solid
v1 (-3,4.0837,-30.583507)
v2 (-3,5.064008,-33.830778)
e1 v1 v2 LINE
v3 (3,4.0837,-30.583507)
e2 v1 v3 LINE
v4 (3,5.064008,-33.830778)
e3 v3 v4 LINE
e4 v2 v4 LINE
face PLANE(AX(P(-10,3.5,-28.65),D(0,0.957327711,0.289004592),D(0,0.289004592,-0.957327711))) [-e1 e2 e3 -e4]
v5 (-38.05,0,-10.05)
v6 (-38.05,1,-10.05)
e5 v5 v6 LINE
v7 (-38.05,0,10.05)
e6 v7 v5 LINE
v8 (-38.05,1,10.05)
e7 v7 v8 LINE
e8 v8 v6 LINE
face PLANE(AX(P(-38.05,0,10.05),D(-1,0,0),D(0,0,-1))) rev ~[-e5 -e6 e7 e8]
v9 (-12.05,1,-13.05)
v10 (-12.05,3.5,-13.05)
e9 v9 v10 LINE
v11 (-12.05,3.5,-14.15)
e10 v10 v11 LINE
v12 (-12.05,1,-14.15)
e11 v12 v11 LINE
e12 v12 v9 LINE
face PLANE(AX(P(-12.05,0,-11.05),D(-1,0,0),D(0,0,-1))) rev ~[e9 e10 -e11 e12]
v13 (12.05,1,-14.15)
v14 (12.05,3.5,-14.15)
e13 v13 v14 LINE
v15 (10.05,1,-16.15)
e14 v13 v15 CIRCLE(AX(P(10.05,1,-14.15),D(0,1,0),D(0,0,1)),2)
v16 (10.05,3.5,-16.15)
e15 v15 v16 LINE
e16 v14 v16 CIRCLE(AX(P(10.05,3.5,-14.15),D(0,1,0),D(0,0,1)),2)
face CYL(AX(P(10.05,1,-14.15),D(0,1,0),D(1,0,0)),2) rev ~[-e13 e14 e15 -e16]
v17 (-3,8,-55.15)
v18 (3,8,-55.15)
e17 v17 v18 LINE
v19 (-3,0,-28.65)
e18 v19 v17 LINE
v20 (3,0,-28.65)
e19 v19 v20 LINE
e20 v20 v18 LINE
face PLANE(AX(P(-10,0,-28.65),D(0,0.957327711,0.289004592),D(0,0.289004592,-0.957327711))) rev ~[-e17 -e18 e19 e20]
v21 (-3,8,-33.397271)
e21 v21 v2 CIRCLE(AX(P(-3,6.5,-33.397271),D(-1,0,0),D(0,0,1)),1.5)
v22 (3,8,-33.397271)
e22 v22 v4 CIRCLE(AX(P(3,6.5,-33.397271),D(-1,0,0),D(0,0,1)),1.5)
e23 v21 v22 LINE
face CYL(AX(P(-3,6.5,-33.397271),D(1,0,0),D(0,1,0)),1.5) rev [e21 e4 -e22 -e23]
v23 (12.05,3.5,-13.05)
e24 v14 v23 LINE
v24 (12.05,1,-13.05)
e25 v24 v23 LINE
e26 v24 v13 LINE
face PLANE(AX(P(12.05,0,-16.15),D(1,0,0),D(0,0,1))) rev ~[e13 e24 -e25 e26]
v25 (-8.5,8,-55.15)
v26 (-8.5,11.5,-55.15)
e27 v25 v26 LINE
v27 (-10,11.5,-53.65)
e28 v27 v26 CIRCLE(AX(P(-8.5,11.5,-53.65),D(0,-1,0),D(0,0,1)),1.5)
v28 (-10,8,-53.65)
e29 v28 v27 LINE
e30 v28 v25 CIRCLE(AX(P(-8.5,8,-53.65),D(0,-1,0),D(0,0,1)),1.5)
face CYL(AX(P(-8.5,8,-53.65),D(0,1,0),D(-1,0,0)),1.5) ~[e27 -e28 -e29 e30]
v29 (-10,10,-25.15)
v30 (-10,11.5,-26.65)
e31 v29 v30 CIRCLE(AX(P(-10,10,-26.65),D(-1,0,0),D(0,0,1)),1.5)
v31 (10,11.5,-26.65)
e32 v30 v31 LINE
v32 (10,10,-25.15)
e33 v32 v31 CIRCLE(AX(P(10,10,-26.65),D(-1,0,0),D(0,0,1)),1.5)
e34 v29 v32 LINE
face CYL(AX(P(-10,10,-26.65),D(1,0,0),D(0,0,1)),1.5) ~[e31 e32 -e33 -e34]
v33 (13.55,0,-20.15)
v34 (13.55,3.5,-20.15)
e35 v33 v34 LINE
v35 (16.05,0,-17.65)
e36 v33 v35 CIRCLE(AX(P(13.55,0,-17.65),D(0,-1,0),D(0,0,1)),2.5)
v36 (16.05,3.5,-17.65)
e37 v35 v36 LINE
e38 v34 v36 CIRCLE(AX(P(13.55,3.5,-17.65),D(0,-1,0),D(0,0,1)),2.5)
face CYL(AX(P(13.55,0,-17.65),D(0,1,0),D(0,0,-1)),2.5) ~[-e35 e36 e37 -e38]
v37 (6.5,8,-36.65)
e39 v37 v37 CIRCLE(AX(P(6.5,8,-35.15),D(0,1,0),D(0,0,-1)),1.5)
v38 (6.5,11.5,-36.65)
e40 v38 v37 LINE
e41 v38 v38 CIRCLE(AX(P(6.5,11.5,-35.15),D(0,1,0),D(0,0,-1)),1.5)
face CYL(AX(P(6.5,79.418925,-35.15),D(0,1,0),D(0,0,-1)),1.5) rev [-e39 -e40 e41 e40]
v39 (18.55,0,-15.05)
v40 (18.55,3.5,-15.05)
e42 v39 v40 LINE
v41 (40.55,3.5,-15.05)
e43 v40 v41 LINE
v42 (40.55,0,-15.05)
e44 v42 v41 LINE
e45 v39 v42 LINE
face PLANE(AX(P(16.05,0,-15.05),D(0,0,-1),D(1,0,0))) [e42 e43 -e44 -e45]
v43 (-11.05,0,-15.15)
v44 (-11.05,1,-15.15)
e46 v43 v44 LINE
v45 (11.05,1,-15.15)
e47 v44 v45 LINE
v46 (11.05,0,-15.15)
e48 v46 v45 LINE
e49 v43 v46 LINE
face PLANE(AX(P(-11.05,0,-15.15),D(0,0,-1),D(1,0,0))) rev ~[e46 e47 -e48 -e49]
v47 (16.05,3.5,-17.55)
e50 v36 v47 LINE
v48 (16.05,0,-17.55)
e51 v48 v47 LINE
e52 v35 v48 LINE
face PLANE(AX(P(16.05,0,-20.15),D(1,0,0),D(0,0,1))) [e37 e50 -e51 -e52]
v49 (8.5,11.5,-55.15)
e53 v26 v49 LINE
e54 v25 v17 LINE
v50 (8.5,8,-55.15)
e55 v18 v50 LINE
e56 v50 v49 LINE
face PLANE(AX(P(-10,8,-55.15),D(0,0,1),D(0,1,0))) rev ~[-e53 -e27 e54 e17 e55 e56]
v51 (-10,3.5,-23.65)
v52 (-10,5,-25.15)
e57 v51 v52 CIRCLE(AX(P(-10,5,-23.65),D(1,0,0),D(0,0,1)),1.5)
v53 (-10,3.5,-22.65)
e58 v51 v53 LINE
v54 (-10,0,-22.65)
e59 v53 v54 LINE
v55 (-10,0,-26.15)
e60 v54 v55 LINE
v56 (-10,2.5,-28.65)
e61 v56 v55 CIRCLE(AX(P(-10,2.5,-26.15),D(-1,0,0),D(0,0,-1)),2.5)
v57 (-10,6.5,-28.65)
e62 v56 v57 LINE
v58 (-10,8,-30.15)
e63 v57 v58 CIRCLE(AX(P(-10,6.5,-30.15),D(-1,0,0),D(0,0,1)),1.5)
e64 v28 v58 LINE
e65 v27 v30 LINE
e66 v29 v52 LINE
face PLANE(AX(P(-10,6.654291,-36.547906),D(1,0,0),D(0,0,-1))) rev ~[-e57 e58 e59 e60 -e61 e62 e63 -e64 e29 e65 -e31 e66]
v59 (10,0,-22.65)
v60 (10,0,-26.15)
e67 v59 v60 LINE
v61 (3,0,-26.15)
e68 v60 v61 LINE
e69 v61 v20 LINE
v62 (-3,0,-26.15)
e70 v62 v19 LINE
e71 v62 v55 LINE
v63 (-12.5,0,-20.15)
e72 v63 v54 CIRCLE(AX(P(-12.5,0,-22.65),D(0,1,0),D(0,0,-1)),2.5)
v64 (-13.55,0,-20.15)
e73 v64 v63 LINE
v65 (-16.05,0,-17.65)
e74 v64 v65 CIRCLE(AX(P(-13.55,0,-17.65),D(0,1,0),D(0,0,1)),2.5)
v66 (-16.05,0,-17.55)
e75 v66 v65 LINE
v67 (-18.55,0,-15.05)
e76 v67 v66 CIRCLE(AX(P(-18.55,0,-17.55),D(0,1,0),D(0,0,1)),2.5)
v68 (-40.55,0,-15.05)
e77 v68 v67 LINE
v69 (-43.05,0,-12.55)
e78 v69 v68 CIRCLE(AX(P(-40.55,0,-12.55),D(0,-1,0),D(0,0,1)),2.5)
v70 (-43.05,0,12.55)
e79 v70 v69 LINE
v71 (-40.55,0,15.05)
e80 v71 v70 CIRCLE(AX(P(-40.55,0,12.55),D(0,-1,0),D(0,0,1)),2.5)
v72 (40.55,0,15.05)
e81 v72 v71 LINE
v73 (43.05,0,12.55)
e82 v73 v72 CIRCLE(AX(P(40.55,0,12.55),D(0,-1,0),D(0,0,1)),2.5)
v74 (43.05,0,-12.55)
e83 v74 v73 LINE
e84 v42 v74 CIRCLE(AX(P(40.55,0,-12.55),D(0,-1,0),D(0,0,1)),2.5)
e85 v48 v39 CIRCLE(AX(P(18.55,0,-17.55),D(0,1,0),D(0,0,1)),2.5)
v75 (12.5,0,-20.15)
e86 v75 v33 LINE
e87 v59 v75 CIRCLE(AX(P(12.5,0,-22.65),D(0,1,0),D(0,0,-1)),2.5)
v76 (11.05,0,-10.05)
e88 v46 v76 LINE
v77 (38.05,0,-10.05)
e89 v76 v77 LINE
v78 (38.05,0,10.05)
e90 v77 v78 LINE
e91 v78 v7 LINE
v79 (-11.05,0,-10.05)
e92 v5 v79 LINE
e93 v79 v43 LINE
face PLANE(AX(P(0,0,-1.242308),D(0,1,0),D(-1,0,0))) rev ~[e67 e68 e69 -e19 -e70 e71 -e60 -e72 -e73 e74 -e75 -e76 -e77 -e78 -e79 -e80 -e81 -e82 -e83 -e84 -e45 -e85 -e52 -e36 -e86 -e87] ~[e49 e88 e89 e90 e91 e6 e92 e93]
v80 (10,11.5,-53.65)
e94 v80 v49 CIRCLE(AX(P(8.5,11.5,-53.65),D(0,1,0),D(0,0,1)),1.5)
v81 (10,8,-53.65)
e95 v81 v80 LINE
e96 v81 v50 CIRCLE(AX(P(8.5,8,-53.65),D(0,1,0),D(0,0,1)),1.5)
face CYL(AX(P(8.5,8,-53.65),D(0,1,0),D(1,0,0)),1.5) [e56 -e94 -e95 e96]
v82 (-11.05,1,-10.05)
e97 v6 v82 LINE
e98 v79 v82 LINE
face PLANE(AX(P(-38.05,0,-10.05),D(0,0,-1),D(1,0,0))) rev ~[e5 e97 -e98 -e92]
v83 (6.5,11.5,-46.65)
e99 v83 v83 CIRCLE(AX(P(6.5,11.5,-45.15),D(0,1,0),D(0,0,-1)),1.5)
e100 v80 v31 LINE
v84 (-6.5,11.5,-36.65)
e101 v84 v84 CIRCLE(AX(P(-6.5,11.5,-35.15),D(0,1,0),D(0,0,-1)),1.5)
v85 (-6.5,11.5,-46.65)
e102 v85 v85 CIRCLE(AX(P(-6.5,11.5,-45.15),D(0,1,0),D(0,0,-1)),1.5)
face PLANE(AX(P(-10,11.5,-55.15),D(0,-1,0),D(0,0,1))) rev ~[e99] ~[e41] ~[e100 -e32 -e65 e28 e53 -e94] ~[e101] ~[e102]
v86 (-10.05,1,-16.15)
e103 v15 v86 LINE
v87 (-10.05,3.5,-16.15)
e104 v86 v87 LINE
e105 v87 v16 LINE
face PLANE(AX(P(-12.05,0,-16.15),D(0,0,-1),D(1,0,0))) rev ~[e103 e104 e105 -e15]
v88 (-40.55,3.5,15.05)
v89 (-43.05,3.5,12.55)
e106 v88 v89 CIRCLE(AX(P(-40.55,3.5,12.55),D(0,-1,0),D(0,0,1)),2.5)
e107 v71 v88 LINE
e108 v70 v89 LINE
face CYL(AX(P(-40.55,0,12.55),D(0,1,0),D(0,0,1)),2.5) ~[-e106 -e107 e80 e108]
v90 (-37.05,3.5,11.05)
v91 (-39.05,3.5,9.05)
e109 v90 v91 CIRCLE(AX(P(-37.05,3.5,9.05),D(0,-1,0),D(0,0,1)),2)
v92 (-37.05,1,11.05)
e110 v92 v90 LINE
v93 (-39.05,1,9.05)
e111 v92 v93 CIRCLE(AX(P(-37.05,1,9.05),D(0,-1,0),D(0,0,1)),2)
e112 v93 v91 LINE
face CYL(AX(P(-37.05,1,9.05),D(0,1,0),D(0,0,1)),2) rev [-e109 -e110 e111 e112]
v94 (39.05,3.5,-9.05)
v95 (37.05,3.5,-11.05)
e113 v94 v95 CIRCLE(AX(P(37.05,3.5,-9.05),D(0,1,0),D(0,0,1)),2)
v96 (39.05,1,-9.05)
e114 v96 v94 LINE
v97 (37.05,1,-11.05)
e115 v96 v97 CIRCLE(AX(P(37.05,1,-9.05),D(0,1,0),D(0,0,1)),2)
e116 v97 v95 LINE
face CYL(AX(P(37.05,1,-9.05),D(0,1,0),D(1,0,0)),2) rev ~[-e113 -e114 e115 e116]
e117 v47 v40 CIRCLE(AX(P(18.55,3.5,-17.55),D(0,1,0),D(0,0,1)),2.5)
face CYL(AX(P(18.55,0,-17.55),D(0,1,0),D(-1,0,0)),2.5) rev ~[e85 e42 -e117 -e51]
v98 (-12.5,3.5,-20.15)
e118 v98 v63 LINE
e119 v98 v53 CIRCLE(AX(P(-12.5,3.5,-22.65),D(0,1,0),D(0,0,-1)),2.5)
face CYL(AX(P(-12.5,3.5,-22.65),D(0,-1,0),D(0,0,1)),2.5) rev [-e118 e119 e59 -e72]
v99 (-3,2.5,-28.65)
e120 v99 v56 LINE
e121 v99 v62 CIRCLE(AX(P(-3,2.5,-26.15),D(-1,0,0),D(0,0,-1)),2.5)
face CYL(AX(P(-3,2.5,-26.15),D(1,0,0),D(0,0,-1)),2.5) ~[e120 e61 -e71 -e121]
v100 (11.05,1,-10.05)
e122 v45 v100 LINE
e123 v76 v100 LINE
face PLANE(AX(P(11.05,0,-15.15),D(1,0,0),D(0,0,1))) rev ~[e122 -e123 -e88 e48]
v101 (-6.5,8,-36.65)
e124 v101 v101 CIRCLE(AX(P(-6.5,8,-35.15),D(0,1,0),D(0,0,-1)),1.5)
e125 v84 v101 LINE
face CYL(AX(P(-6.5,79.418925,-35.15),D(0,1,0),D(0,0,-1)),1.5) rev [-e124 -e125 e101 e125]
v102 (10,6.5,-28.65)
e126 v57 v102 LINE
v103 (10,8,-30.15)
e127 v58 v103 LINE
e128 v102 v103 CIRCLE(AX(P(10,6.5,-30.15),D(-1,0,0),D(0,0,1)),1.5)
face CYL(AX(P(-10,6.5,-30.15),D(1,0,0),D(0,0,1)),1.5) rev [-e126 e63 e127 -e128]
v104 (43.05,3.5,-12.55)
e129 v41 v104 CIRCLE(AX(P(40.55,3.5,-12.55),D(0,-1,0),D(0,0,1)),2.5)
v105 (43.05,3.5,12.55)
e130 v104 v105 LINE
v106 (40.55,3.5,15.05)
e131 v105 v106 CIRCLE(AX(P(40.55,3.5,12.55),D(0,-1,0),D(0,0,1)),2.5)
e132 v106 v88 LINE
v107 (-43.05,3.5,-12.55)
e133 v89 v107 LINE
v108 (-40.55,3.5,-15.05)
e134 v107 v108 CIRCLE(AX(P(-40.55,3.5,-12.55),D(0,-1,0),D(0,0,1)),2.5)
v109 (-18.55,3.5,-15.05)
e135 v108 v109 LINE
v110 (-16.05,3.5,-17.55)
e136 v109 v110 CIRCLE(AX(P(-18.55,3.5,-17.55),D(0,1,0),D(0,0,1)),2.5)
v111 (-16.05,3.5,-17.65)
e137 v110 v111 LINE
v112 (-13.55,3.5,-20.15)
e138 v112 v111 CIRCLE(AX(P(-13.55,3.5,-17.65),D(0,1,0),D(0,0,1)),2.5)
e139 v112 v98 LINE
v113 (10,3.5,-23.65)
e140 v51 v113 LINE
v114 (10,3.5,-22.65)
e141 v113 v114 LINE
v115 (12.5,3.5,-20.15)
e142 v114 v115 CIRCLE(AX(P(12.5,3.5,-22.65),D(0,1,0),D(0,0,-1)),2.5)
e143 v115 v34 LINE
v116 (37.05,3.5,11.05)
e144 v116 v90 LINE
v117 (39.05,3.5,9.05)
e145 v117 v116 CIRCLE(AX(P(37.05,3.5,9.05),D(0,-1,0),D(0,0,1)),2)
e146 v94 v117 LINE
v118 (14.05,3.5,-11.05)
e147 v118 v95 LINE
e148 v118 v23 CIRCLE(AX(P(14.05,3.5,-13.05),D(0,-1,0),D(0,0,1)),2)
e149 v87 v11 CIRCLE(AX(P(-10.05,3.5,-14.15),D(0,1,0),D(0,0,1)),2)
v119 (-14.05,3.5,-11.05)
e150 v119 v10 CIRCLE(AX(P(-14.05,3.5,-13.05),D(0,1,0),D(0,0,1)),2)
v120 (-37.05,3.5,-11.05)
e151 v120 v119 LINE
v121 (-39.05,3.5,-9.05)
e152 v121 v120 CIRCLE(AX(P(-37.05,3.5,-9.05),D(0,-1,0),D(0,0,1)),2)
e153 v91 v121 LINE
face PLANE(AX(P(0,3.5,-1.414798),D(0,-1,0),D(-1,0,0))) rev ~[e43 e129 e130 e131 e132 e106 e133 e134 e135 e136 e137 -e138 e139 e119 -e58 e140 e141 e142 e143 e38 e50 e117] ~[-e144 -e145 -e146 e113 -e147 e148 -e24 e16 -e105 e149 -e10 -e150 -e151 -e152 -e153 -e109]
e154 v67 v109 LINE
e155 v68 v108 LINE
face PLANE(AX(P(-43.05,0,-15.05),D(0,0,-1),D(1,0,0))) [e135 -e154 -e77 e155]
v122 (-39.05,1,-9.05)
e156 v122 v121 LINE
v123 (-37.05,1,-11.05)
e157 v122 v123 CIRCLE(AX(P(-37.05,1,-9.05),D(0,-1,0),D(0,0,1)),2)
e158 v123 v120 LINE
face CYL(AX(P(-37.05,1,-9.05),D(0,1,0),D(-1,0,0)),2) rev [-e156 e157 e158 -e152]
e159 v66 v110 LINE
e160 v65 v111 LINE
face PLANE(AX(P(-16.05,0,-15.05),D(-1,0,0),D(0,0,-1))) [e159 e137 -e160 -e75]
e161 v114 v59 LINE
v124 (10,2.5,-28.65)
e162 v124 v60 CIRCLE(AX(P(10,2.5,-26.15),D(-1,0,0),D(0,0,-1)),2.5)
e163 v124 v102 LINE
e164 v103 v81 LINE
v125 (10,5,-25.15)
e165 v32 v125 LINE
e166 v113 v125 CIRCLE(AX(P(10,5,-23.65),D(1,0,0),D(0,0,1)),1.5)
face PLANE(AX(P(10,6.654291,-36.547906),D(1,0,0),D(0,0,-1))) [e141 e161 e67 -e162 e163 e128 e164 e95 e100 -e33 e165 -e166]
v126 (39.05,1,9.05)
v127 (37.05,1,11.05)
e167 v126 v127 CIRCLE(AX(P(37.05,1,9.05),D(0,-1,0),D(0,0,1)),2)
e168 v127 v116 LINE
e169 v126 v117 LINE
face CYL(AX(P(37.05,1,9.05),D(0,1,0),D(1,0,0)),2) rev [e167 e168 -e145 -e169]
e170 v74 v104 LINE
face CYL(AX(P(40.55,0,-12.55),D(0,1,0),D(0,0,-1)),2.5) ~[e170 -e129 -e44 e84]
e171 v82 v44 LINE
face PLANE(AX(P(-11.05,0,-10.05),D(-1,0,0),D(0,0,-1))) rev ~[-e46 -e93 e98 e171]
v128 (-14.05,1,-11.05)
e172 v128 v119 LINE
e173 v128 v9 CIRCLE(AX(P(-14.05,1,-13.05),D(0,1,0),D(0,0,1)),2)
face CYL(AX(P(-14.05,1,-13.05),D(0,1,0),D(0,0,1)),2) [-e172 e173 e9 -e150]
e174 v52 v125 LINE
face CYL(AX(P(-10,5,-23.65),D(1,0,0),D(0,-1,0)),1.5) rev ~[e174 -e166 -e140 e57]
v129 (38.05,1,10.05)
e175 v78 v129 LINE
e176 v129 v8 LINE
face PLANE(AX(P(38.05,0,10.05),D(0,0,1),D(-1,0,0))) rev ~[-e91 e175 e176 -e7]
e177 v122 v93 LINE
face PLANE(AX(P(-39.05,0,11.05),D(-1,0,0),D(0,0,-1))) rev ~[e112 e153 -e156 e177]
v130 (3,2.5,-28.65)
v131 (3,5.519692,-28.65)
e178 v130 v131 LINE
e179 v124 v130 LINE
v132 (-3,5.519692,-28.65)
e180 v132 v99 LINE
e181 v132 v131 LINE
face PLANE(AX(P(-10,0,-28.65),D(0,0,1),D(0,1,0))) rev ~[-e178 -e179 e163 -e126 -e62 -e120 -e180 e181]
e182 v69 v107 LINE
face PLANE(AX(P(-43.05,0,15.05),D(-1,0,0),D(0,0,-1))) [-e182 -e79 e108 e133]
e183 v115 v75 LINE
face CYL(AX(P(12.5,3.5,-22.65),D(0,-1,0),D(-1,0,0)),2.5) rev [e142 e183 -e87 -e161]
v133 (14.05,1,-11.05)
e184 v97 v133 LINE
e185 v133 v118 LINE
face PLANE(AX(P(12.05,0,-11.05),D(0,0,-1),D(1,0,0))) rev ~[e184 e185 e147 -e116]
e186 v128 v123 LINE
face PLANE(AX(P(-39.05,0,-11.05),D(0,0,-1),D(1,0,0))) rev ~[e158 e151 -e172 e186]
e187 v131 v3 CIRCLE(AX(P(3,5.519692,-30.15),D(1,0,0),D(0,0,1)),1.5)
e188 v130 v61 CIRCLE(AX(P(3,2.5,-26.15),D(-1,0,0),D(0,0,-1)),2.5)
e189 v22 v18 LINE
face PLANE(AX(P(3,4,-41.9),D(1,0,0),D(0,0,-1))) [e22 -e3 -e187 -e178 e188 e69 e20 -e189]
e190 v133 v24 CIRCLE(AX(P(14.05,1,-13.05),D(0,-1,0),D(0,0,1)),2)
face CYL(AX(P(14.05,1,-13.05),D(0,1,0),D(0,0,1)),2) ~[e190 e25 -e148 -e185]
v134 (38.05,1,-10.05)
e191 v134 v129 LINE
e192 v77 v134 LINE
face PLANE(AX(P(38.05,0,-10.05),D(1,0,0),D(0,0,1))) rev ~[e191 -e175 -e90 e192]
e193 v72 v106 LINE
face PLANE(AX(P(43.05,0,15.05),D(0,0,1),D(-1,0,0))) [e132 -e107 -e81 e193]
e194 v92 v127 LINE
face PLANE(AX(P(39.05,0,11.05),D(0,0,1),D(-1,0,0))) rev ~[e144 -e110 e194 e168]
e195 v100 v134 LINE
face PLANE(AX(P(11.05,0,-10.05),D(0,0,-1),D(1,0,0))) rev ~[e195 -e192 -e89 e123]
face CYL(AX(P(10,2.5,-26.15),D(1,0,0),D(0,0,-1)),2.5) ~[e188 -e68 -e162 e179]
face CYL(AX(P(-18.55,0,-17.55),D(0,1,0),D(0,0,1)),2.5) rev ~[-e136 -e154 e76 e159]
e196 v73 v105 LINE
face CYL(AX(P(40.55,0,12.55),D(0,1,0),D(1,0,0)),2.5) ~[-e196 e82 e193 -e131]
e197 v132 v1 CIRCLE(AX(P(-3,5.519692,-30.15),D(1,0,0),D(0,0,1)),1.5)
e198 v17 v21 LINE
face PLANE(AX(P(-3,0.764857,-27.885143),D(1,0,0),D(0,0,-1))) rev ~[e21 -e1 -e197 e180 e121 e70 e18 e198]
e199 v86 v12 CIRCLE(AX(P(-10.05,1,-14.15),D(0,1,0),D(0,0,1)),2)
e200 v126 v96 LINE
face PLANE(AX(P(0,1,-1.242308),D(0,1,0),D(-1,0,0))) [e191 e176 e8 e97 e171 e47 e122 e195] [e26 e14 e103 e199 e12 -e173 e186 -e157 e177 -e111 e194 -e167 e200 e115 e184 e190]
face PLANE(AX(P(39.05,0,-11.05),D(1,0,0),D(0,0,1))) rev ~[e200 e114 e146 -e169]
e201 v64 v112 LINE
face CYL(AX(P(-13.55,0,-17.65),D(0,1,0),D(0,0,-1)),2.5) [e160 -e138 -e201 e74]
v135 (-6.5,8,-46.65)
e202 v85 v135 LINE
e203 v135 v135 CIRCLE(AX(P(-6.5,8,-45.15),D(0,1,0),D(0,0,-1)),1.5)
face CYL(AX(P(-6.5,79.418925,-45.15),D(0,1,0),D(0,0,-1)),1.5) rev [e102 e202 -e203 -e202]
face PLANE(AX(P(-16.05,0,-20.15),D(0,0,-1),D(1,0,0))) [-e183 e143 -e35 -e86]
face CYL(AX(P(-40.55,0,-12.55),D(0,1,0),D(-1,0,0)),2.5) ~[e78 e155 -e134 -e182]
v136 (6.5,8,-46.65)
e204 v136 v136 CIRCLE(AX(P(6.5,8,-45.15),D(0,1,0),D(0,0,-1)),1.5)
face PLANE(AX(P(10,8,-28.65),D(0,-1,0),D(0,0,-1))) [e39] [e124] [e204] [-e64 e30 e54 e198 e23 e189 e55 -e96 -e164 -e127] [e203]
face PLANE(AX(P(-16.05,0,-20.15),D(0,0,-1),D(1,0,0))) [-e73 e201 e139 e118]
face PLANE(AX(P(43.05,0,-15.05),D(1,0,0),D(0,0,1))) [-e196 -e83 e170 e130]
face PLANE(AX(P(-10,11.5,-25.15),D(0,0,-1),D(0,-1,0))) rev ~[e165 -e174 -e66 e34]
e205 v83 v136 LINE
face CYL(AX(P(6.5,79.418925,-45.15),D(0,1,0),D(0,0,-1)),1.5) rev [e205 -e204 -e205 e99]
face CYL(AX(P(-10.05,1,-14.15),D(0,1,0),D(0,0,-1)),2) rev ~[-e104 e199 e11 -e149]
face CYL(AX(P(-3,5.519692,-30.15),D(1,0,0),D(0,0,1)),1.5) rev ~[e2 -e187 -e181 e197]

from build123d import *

# Parameters (mm, degrees)
RESSALTO_EXTRUS_O1_DEPTH      = 3.5
RESSALTO_EXTRUS_O2_DEPTH      = 1
RESSALTO_EXTRUS_O3_DEPTH      = 10
RESSALTO_EXTRUS_O3_DEPTH_BACK = 10
ESBO_O4_W                     = 26.5
ESBO_O4_H                     = 8
CORTE_EXTRUS_O1_DEPTH         = 7
CORTE_EXTRUS_O2_START         = -20
ESBO_O4_2_W                   = 26.5
ESBO_O4_2_H                   = 8
CORTE_EXTRUS_O2_DEPTH         = 7
CORTE_EXTRUS_O3_DEPTH         = 71.418925013
CORTE_EXTRUS_O3_DEPTH_BACK    = 71.418925013
ESBO_O5_R                     = 1.5
FILETE1_R                     = 2
FILETE2_R                     = 2.5
FILETE3_R                     = 1.5
CORTE_EXTRUS_O4_DEPTH         = 7
CORTE_EXTRUS_O5_START         = -13
CORTE_EXTRUS_O5_DEPTH         = 7


with BuildPart() as part:
    # Esboço1 → Ressalto-extrusão1 (new body)
    with BuildSketch(Plane(origin=(0, 0, 0), x_dir=(1, 0, 0), z_dir=(0, 1, 0))):
        Polygon((-16.05, 20.15), (16.05, 20.15), (16.05, 15.05), (43.05, 15.05), (43.05, -15.05), (-43.05, -15.05), (-43.05, 15.05), (-16.05, 15.05), align=None)
        Polygon((12.05, 11.05), (39.05, 11.05), (39.05, -11.05), (-39.05, -11.05), (-39.05, 11.05), (-12.05, 11.05), (-12.05, 16.15), (12.05, 16.15), align=None, mode=Mode.SUBTRACT)
    extrude(amount=RESSALTO_EXTRUS_O1_DEPTH)

    # Esboço2 → Ressalto-extrusão2 (add)
    with BuildSketch(Plane.XZ):
        Polygon((39.05, 11.05), (39.05, -11.05), (12.05, -11.05), (12.05, -16.15), (-12.05, -16.15), (-12.05, -11.05), (-39.05, -11.05), (-39.05, 11.05), align=None)
        Polygon((38.05, -10.05), (38.05, 10.05), (-38.05, 10.05), (-38.05, -10.05), (-11.05, -10.05), (-11.05, -15.15), (11.05, -15.15), (11.05, -10.05), align=None, mode=Mode.SUBTRACT)
    extrude(amount=-RESSALTO_EXTRUS_O2_DEPTH)

    # Esboço3 → Ressalto-extrusão3 (add, two sides: drawn at the far end of the back side and taken through both)
    with BuildSketch(Plane(origin=(0, 0, 0), x_dir=(0, 0, -1), z_dir=(1, 0, 0)).offset(-RESSALTO_EXTRUS_O3_DEPTH_BACK)):
        Polygon((20.15, 0), (28.65, 0), (55.15, 8), (55.15, 11.5), (25.15, 11.5), (25.15, 3.5), (20.15, 3.5), align=None)
        Polygon((28.65, 3.5), (43.55625, 8), (28.65, 8), align=None, mode=Mode.SUBTRACT)
    extrude(amount=RESSALTO_EXTRUS_O3_DEPTH + RESSALTO_EXTRUS_O3_DEPTH_BACK)

    # Esboço4 → Corte-extrusão1 (cut)
    with BuildSketch(Plane(origin=(10, 0, 0), x_dir=(0, 0, -1), z_dir=(1, 0, 0))):
        with Locations((41.9, 4)):
            Rectangle(ESBO_O4_W, ESBO_O4_H)
    extrude(amount=-CORTE_EXTRUS_O1_DEPTH, mode=Mode.SUBTRACT)

    # Esboço4<2> → Corte-extrusão2 (cut)
    with BuildSketch(Plane(origin=(10, 0, 0), x_dir=(0, 0, -1), z_dir=(1, 0, 0)).offset(CORTE_EXTRUS_O2_START)):
        with Locations((41.9, 4)):
            Rectangle(ESBO_O4_2_W, ESBO_O4_2_H)
    extrude(amount=CORTE_EXTRUS_O2_DEPTH, mode=Mode.SUBTRACT)

    # Esboço5 → Corte-extrusão3 (cut, two sides: drawn at the far end of the back side and taken through both)
    with BuildSketch(Plane.XZ.offset(-8).offset(-CORTE_EXTRUS_O3_DEPTH_BACK)):
        with Locations(Location((-6.5, -45.15, 0), (0, 0, 270))):
            Circle(ESBO_O5_R)
        with Locations(Location((6.5, -45.15, 0), (0, 0, 270))):
            Circle(ESBO_O5_R)
        with Locations(Location((-6.5, -35.15, 0), (0, 0, 270))):
            Circle(ESBO_O5_R)
        with Locations(Location((6.5, -35.15, 0), (0, 0, 270))):
            Circle(ESBO_O5_R)
    extrude(amount=CORTE_EXTRUS_O3_DEPTH + CORTE_EXTRUS_O3_DEPTH_BACK, mode=Mode.SUBTRACT)

    # Filete1
    filete1_edges = [part.edges().sort_by_distance(p)[0] for p in [
        (39.05, 2.25, 11.05),
        (39.05, 2.25, -11.05),
        (12.05, 2.25, -11.05),
        (12.05, 2.25, -16.15),
        (-12.05, 2.25, -16.15),
        (-12.05, 2.25, -11.05),
        (-39.05, 2.25, -11.05),
        (-39.05, 2.25, 11.05),
    ]]
    fillet(filete1_edges, radius=FILETE1_R)

    # Filete2
    filete2_edges = [part.edges().sort_by_distance(p)[0] for p in [
        (10, 1.75, -20.15),
        (-10, 1.75, -20.15),
        (-16.05, 1.75, -20.15),
        (16.05, 1.75, -20.15),
        (16.05, 1.75, -15.05),
        (43.05, 1.75, -15.05),
        (43.05, 1.75, 15.05),
        (-43.05, 1.75, 15.05),
        (-43.05, 1.75, -15.05),
        (-16.05, 1.75, -15.05),
    ]]
    fillet(filete2_edges, radius=FILETE2_R)

    # Filete3
    filete3_edges = [part.edges().sort_by_distance(p)[0] for p in [
        (10, 9.75, -55.15),
        (-10, 9.75, -55.15),
        (0, 11.5, -25.15),
        (0, 3.5, -25.15),
        (0, 8, -28.65),
        (0, 8, -43.55625),
        (0, 3.5, -28.65),
    ]]
    fillet(filete3_edges, radius=FILETE3_R)

    # Esboço6 → Corte-extrusão4 (cut)
    with BuildSketch(Plane(origin=(10, 0, 0), x_dir=(0, 0, -1), z_dir=(1, 0, 0))):
        with BuildLine():
            Line((26.15, 0), (28.65, 0))
            Line((28.65, 0), (28.65, 2.5))
            ThreePointArc((28.65, 2.5), (27.917766953, 0.732233047), (26.15, 0))
        make_face()
    extrude(amount=-CORTE_EXTRUS_O4_DEPTH, mode=Mode.SUBTRACT)

    # Esboço6<2> → Corte-extrusão5 (cut)
    with BuildSketch(Plane(origin=(10, 0, 0), x_dir=(0, 0, -1), z_dir=(1, 0, 0)).offset(CORTE_EXTRUS_O5_START)):
        with BuildLine():
            Line((26.15, 0), (28.65, 0))
            Line((28.65, 0), (28.65, 2.5))
            ThreePointArc((28.65, 2.5), (27.917766953, 0.732233047), (26.15, 0))
        make_face()
    extrude(amount=-CORTE_EXTRUS_O5_DEPTH, mode=Mode.SUBTRACT)


solid = part.part
